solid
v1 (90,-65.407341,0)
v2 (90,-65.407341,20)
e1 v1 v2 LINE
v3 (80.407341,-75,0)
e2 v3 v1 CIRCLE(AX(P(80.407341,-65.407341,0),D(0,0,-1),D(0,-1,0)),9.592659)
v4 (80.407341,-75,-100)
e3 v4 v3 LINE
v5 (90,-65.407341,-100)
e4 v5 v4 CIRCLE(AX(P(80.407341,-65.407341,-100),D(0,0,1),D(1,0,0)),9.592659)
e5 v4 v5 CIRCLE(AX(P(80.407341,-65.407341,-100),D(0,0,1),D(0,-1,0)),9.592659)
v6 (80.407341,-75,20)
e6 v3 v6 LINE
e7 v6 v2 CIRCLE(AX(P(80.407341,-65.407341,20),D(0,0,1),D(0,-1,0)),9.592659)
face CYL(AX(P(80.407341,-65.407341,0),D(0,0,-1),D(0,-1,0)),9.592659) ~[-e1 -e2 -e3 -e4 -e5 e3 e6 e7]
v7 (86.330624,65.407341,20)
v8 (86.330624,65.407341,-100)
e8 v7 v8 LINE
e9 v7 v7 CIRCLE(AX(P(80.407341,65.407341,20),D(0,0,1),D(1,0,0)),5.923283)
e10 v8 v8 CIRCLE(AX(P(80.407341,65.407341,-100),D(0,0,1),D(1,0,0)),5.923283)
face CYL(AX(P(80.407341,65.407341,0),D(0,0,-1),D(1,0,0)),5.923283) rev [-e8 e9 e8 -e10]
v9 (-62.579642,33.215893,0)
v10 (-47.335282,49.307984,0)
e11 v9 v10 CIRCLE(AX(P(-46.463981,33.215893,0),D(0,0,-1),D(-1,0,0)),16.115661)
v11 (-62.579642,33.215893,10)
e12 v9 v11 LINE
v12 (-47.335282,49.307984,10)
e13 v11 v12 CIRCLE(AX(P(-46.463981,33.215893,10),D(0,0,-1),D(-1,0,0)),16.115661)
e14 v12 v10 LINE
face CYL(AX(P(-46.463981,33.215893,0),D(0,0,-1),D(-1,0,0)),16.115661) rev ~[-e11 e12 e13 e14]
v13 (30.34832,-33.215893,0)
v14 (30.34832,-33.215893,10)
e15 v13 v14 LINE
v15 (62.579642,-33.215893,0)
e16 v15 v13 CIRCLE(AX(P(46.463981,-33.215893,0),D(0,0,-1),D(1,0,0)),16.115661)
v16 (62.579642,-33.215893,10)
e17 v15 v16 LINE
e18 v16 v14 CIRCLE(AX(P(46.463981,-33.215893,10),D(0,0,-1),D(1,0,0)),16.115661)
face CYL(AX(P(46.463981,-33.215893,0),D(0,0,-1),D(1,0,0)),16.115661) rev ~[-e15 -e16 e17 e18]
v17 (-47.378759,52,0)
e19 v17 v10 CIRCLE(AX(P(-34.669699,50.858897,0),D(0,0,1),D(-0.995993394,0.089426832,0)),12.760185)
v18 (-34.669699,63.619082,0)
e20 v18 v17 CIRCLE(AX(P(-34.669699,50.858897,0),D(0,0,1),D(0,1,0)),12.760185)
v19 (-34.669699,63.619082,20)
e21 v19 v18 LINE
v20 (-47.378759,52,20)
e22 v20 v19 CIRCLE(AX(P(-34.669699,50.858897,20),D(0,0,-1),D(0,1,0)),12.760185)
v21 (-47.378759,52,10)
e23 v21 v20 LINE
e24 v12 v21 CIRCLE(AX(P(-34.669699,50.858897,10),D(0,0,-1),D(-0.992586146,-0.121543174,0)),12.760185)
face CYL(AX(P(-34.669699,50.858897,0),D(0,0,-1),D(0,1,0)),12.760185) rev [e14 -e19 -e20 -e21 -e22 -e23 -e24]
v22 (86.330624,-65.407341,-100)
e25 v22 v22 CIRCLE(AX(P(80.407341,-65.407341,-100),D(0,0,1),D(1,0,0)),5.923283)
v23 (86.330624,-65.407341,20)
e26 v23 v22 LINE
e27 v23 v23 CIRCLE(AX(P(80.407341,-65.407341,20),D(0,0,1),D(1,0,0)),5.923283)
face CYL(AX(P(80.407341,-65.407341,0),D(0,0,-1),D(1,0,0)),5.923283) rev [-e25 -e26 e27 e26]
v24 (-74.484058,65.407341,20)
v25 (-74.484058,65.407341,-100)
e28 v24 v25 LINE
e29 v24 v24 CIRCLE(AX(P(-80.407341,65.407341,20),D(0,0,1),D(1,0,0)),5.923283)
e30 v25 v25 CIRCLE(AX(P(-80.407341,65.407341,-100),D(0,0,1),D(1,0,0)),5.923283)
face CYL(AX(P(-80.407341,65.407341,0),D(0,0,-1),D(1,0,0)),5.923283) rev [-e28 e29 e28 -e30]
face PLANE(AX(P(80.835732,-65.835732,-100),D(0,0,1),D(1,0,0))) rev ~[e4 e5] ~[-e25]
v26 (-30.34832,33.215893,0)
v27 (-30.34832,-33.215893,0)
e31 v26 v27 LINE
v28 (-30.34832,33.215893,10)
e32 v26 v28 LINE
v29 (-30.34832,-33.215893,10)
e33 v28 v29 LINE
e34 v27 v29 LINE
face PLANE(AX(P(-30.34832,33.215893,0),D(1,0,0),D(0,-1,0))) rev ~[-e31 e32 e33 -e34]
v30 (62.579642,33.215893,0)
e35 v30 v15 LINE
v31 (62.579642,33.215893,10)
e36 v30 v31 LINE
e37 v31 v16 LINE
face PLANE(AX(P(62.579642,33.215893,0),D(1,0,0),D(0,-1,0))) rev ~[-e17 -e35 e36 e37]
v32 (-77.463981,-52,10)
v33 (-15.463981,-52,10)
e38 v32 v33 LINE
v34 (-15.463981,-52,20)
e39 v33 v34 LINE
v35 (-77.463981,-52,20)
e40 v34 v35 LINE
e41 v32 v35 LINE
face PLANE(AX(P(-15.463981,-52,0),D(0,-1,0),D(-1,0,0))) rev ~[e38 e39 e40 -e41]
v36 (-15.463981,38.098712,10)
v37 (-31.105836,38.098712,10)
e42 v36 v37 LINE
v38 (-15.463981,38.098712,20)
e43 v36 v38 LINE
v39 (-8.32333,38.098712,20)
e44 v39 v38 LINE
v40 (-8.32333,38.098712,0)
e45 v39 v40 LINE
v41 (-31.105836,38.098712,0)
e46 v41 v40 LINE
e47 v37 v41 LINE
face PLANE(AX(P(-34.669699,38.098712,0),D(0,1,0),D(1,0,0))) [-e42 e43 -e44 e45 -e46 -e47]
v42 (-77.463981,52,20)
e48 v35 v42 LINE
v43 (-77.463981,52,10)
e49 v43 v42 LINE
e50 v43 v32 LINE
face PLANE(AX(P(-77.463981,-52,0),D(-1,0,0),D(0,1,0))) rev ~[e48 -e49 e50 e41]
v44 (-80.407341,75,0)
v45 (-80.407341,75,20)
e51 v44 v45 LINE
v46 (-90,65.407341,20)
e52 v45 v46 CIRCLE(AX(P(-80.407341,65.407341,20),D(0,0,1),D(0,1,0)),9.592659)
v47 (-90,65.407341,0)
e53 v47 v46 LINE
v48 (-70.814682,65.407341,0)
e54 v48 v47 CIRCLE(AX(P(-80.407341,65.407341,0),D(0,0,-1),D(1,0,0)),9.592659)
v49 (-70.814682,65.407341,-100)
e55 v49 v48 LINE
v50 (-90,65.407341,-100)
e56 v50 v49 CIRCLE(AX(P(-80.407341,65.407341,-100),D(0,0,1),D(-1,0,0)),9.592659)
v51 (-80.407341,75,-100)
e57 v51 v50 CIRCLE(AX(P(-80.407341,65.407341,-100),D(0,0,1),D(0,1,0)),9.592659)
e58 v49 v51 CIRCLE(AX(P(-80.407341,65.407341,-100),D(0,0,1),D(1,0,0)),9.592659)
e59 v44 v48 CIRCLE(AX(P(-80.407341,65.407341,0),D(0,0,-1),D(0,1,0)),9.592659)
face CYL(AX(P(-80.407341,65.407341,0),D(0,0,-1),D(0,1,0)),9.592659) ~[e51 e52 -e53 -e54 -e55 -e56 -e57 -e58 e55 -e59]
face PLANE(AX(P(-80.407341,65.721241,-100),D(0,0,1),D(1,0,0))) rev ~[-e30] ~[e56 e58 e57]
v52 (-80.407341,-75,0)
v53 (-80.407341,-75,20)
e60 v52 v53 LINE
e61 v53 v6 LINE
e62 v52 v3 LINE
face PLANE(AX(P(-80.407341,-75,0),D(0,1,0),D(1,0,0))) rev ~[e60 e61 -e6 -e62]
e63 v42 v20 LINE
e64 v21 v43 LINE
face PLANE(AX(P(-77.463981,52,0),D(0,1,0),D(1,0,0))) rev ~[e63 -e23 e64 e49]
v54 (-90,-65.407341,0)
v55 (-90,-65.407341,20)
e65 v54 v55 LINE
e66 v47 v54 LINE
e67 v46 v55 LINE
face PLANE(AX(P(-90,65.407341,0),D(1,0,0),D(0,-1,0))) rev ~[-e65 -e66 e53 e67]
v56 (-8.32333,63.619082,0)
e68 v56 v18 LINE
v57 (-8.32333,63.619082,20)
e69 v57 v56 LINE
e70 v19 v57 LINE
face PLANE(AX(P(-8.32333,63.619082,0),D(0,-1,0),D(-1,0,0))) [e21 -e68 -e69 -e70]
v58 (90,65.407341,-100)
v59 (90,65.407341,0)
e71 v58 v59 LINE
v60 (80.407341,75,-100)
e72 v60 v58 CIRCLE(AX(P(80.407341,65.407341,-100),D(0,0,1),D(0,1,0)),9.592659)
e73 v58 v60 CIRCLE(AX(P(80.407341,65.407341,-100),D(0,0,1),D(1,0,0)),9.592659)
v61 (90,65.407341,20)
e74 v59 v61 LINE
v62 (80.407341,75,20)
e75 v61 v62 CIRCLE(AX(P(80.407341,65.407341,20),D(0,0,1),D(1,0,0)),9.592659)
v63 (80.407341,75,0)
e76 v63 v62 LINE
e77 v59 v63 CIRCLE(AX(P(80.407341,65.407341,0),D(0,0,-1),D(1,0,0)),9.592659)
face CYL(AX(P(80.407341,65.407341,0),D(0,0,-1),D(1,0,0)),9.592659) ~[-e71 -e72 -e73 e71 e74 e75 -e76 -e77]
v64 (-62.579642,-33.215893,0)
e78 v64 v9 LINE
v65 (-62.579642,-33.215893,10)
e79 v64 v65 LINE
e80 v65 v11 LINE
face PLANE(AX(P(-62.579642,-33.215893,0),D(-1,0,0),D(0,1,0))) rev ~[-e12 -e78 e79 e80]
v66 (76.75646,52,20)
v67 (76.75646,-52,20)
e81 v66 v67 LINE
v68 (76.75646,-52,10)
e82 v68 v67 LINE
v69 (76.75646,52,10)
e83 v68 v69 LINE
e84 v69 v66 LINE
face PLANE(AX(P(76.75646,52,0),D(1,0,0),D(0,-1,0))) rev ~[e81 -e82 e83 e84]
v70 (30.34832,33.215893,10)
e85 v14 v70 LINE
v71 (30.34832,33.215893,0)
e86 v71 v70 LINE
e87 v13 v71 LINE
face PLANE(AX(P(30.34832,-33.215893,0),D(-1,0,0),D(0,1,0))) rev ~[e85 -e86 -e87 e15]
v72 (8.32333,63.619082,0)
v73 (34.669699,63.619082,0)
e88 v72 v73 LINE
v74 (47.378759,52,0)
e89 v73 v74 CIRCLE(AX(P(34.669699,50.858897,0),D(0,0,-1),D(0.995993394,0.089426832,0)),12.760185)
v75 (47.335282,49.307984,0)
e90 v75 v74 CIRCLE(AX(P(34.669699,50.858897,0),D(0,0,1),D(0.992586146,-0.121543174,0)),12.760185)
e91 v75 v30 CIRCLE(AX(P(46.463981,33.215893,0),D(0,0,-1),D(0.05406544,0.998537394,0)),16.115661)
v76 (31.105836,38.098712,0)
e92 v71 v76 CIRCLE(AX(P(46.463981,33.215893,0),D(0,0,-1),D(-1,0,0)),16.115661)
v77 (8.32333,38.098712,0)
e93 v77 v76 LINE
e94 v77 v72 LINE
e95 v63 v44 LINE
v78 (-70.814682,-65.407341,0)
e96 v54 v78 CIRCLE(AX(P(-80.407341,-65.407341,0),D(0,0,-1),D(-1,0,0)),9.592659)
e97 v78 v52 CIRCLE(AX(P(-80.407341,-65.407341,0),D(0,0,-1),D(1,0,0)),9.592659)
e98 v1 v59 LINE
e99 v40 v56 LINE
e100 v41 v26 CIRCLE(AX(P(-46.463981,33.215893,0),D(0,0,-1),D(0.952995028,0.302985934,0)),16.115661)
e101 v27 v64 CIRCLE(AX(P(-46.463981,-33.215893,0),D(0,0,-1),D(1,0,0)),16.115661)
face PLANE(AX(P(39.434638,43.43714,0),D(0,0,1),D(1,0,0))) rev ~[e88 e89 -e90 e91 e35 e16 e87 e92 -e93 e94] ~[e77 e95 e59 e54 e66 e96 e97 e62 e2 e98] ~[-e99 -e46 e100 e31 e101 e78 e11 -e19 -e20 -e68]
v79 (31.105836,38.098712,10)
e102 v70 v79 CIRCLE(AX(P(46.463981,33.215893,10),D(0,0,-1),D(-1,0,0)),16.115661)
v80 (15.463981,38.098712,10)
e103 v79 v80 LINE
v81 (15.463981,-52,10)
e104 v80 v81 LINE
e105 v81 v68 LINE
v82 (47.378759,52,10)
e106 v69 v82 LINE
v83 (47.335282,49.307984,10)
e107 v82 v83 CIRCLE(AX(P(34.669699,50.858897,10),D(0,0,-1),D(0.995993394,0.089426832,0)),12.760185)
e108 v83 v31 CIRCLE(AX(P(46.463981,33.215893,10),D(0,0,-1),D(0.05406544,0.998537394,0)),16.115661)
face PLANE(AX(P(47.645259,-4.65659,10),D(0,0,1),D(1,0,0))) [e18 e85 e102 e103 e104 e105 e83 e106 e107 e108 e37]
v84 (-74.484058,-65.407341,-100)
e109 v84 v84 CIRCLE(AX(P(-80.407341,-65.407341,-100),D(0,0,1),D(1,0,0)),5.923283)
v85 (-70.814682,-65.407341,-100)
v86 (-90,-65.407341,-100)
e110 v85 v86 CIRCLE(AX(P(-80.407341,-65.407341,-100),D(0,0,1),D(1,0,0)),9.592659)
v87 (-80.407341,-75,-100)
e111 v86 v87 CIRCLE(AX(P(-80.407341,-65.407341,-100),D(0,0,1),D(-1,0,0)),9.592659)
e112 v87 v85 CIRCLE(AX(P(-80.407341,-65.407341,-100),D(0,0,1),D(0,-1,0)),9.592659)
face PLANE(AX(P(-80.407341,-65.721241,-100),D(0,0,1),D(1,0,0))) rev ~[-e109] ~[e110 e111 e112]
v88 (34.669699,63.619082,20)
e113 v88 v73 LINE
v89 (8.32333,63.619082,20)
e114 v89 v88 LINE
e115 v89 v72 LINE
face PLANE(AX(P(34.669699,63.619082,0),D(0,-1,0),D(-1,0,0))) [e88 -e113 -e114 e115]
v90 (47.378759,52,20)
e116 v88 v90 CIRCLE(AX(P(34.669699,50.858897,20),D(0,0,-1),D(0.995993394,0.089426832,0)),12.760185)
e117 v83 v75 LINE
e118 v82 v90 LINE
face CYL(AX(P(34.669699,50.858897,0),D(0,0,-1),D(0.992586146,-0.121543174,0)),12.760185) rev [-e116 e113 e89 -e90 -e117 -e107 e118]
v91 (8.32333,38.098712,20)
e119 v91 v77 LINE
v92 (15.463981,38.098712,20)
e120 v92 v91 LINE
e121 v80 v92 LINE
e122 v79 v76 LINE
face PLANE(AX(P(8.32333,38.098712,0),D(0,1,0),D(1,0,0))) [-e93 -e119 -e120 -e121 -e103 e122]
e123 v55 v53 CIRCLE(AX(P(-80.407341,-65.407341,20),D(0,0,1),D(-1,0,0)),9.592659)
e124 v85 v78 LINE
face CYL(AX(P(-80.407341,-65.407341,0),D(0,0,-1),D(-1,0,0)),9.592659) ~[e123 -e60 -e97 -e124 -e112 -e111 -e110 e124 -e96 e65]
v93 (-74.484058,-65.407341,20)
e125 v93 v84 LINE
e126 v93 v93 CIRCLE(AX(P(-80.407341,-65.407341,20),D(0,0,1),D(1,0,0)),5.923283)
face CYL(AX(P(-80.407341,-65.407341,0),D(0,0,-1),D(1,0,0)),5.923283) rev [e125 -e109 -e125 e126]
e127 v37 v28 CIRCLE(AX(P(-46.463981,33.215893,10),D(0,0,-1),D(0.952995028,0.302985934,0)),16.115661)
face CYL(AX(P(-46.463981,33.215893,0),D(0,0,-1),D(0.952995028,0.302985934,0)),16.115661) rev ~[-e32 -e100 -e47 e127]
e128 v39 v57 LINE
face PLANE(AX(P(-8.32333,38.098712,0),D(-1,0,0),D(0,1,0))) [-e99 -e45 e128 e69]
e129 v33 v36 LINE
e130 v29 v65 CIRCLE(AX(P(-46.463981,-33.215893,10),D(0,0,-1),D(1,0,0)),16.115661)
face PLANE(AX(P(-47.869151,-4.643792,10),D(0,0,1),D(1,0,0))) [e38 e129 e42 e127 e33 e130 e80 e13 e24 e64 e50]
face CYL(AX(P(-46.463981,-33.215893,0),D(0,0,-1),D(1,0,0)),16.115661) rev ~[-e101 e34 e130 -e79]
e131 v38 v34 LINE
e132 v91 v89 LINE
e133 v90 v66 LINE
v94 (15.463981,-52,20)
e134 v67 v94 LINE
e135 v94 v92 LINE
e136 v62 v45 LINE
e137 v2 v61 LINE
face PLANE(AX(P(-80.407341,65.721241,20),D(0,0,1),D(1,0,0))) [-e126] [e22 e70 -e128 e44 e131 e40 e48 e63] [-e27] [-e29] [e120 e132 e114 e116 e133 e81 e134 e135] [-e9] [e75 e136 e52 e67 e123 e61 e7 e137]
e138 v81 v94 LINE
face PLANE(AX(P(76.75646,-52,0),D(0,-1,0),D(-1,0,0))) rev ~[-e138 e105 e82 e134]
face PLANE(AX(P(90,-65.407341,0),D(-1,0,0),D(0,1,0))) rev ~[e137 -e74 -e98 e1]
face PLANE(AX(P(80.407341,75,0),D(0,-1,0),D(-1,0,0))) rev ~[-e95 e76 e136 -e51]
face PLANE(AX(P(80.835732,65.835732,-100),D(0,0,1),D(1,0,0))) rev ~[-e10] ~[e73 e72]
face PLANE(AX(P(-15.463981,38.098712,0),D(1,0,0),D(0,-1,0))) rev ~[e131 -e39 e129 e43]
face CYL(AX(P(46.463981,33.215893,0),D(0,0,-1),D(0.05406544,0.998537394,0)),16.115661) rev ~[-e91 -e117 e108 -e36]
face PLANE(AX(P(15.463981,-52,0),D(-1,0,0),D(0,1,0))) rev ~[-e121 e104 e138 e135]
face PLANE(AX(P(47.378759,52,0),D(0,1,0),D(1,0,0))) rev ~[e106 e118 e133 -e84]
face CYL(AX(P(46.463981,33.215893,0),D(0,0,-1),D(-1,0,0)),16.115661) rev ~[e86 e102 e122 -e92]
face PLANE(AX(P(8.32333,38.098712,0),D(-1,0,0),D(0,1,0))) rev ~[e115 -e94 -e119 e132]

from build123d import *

# Parameters (mm, degrees)
EXTRUDE_1_DEPTH          = 20
EXTRUDE_2_DEPTH          = 10
EXTRUDE_3_DEPTH          = 20
CUT_EXTRUDE_4_DEPTH      = 5
EXTRUDE_START            = -100
SKETCH_1_11_R            = 9.592658998
SKETCH_1_11_R_2          = 5.923282924
EXTRUDE_5_DEPTH          = 100
EXTRUDE_5_2_DEPTH        = 100
EXTRUDE_5_3_DEPTH        = 100
EXTRUDE_5_4_DEPTH        = 100
CUT_EXTRUDE_5_DEPTH      = 155.029218007
CUT_EXTRUDE_5_DEPTH_BACK = 12
SKETCH_1_15_R            = 9.592658998
SKETCH_1_15_R_2          = 5.923282924
EXTRUDE_7_DEPTH          = 20


with BuildPart() as part:
    # 草图1 → 凸台-拉伸1 (new body)
    with BuildSketch(Plane.XY):
        with BuildLine():
            Line((80.407341002, 75), (-80.407341002, 75))
            ThreePointArc((-80.407341002, 75), (-73.624306776, 72.190375229), (-70.814682005, 65.407341002))
            ThreePointArc((-70.814682005, 65.407341002), (-80.407341002, 55.814682005), (-90, 65.407341002))
            Line((-90, 65.407341002), (-90, -65.407341002))
            ThreePointArc((-90, -65.407341002), (-80.407341002, -55.814682005), (-70.814682005, -65.407341002))
            ThreePointArc((-70.814682005, -65.407341002), (-73.624306776, -72.190375229), (-80.407341002, -75))
            Line((-80.407341002, -75), (80.407341002, -75))
            ThreePointArc((80.407341002, -75), (73.624306776, -58.624306776), (90, -65.407341002))
            Line((90, -65.407341002), (90, 65.407341002))
            ThreePointArc((90, 65.407341002), (73.624306776, 58.624306776), (80.407341002, 75))
        make_face()
        with BuildLine():
            Line((-77.463981191, -52), (-77.463981191, 52))
            Line((-77.463981191, 52), (-47.378758628, 52))
            ThreePointArc((-47.378758628, 52), (-43.279624238, 60.276513692), (-34.66969867, 63.619082069))
            Line((-34.66969867, 63.619082069), (-8.32333029, 63.619082069))
            ThreePointArc((-8.32333029, 63.619082069), (0, 71.942412359), (8.32333029, 63.619082069))
            Line((8.32333029, 63.619082069), (34.66969867, 63.619082069))
            ThreePointArc((34.66969867, 63.619082069), (43.279624238, 60.276513692), (47.378758628, 52))
            Line((47.378758628, 52), (76.756459617, 52))
            Line((76.756459617, 52), (76.756459617, -52))
            Line((76.756459617, -52), (15.463981191, -52))
            Line((15.463981191, -52), (15.463981191, 38.098712095))
            Line((15.463981191, 38.098712095), (8.32333029, 38.098712095))
            ThreePointArc((8.32333029, 38.098712095), (0, 29.775381805), (-8.32333029, 38.098712095))
            Line((-8.32333029, 38.098712095), (-15.463981191, 38.098712095))
            Line((-15.463981191, 38.098712095), (-15.463981191, -52))
            Line((-15.463981191, -52), (-77.463981191, -52))
        make_face(mode=Mode.SUBTRACT)
    extrude(amount=EXTRUDE_1_DEPTH)

    # 草图1<3> → 凸台-拉伸2 (add)
    with BuildSketch(Plane.XY):
        with BuildLine():
            Line((-47.378758628, 52), (-77.463981191, 52))
            Line((-77.463981191, 52), (-77.463981191, -52))
            Line((-77.463981191, -52), (-15.463981191, -52))
            Line((-15.463981191, -52), (-15.463981191, 38.098712095))
            Line((-15.463981191, 38.098712095), (-31.105836296, 38.098712095))
            ThreePointArc((-31.105836296, 38.098712095), (-30.538825138, 35.686508189), (-30.348320097, 33.215893454))
            Line((-30.348320097, 33.215893454), (-30.348320097, -33.215893454))
            ThreePointArc((-30.348320097, -33.215893454), (-46.463981191, -49.331554547), (-62.579642285, -33.215893454))
            Line((-62.579642285, -33.215893454), (-62.579642285, 33.215893454))
            ThreePointArc((-62.579642285, 33.215893454), (-58.163470775, 44.299055275), (-47.335281505, 49.307983692))
            ThreePointArc((-47.335281505, 49.307983692), (-47.428219829, 50.652841942), (-47.378758628, 52))
        make_face()
        with BuildLine():
            Line((31.105836296, 38.098712095), (15.463981191, 38.098712095))
            Line((15.463981191, 38.098712095), (15.463981191, -52))
            Line((15.463981191, -52), (76.756459617, -52))
            Line((76.756459617, -52), (76.756459617, 52))
            Line((76.756459617, 52), (47.378758628, 52))
            ThreePointArc((47.378758628, 52), (47.428219829, 50.652841942), (47.335281505, 49.307983692))
            ThreePointArc((47.335281505, 49.307983692), (58.163470775, 44.299055275), (62.579642285, 33.215893454))
            Line((62.579642285, 33.215893454), (62.579642285, -33.215893454))
            ThreePointArc((62.579642285, -33.215893454), (46.463981191, -49.331554547), (30.348320097, -33.215893454))
            Line((30.348320097, -33.215893454), (30.348320097, 33.215893454))
            ThreePointArc((30.348320097, 33.215893454), (30.538825138, 35.686508189), (31.105836296, 38.098712095))
        make_face()
    extrude(amount=EXTRUDE_2_DEPTH)

    # 草图1<4> → 凸台-拉伸3 (add)
    with BuildSketch(Plane.XY):
        with BuildLine():
            ThreePointArc((-34.66969867, 63.619082069), (-47.429883657, 50.858897082), (-34.66969867, 38.098712095))
            Line((-34.66969867, 38.098712095), (-8.32333029, 38.098712095))
            Line((-8.32333029, 38.098712095), (-8.32333029, 63.619082069))
            Line((-8.32333029, 63.619082069), (-34.66969867, 63.619082069))
        make_face()
        with BuildLine():
            Line((34.66969867, 63.619082069), (8.32333029, 63.619082069))
            Line((8.32333029, 63.619082069), (8.32333029, 38.098712095))
            Line((8.32333029, 38.098712095), (34.66969867, 38.098712095))
            ThreePointArc((34.66969867, 38.098712095), (47.429883657, 50.858897082), (34.66969867, 63.619082069))
        make_face()
    extrude(amount=EXTRUDE_3_DEPTH)

    # 草图1<8> → 切除-拉伸4 (cut, symmetric)
    with BuildSketch(Plane.XY):
        with BuildLine():
            ThreePointArc((-34.66969867, 63.619082069), (-47.429883657, 50.858897082), (-34.66969867, 38.098712095))
            Line((-34.66969867, 38.098712095), (-8.32333029, 38.098712095))
            Line((-8.32333029, 38.098712095), (-8.32333029, 63.619082069))
            Line((-8.32333029, 63.619082069), (-34.66969867, 63.619082069))
        make_face()
        with BuildLine():
            Line((34.66969867, 63.619082069), (8.32333029, 63.619082069))
            Line((8.32333029, 63.619082069), (8.32333029, 38.098712095))
            Line((8.32333029, 38.098712095), (34.66969867, 38.098712095))
            ThreePointArc((34.66969867, 38.098712095), (47.429883657, 50.858897082), (34.66969867, 63.619082069))
        make_face()
    extrude(amount=CUT_EXTRUDE_4_DEPTH, both=True, mode=Mode.SUBTRACT)

    # 草图1<14> → 切除-拉伸5 (cut, two sides: drawn at the far end of the back side and taken through both)
    with BuildSketch(Plane.XY.offset(-CUT_EXTRUDE_5_DEPTH_BACK)):
        with BuildLine():
            ThreePointArc((-34.66969867, 63.619082069), (-47.429883657, 50.858897082), (-34.66969867, 38.098712095))
            Line((-34.66969867, 38.098712095), (-8.32333029, 38.098712095))
            Line((-8.32333029, 38.098712095), (-8.32333029, 63.619082069))
            Line((-8.32333029, 63.619082069), (-34.66969867, 63.619082069))
        make_face()
        with BuildLine():
            Line((34.66969867, 63.619082069), (8.32333029, 63.619082069))
            Line((8.32333029, 63.619082069), (8.32333029, 38.098712095))
            Line((8.32333029, 38.098712095), (34.66969867, 38.098712095))
            ThreePointArc((34.66969867, 38.098712095), (47.429883657, 50.858897082), (34.66969867, 63.619082069))
        make_face()
    extrude(amount=CUT_EXTRUDE_5_DEPTH + CUT_EXTRUDE_5_DEPTH_BACK, mode=Mode.SUBTRACT)



with BuildPart() as body_2:
    # 草图1<11> → 凸台-拉伸5 (new body)
    with BuildSketch(Plane.XY.offset(EXTRUDE_START)):
        with Locations((-80.407341002, 65.407341002)):
            Circle(SKETCH_1_11_R)
        with Locations((-80.407341002, 65.407341002)):
            Circle(SKETCH_1_11_R_2, mode=Mode.SUBTRACT)
    extrude(amount=EXTRUDE_5_DEPTH)


with BuildPart() as body_3:
    # 草图1<11> → Extrude 5 2 (new body)
    with BuildSketch(Plane.XY.offset(EXTRUDE_START)):
        with Locations((80.407341002, 65.407341002)):
            Circle(SKETCH_1_11_R)
        with Locations((80.407341002, 65.407341002)):
            Circle(SKETCH_1_11_R_2, mode=Mode.SUBTRACT)
    extrude(amount=EXTRUDE_5_2_DEPTH)


with BuildPart() as body_4:
    # 草图1<11> → Extrude 5 3 (new body)
    with BuildSketch(Plane.XY.offset(EXTRUDE_START)):
        with Locations((-80.407341002, -65.407341002)):
            Circle(SKETCH_1_11_R)
        with Locations((-80.407341002, -65.407341002)):
            Circle(SKETCH_1_11_R_2, mode=Mode.SUBTRACT)
    extrude(amount=EXTRUDE_5_3_DEPTH)


with BuildPart() as body_5:
    # 草图1<11> → Extrude 5 4 (new body)
    with BuildSketch(Plane.XY.offset(EXTRUDE_START)):
        with Locations((80.407341002, -65.407341002)):
            Circle(SKETCH_1_11_R)
        with Locations((80.407341002, -65.407341002)):
            Circle(SKETCH_1_11_R_2, mode=Mode.SUBTRACT)
    extrude(amount=EXTRUDE_5_4_DEPTH)


with BuildPart() as part_1:
    add(part.part)

    add(body_2.part)  # 凸台-拉伸7 merges body 2

    add(body_3.part)  # 凸台-拉伸7 merges body 3

    add(body_4.part)  # 凸台-拉伸7 merges body 4

    add(body_5.part)  # 凸台-拉伸7 merges body 5
    # 草图1<15> → 凸台-拉伸7 (add)
    # profile 1 of 5: a face of its own
    with BuildSketch(Plane.XY):
        with Locations((-80.407341002, 65.407341002)):
            Circle(SKETCH_1_15_R)
        with Locations((-80.407341002, 65.407341002)):
            Circle(SKETCH_1_15_R_2, mode=Mode.SUBTRACT)
    # profile 2 of 5: a face of its own
    with BuildSketch(Plane.XY):
        with Locations((80.407341002, 65.407341002)):
            Circle(SKETCH_1_15_R)
        with Locations((80.407341002, 65.407341002)):
            Circle(SKETCH_1_15_R_2, mode=Mode.SUBTRACT)
    # profile 3 of 5: a face of its own
    with BuildSketch(Plane.XY):
        with Locations((-80.407341002, -65.407341002)):
            Circle(SKETCH_1_15_R)
        with Locations((-80.407341002, -65.407341002)):
            Circle(SKETCH_1_15_R_2, mode=Mode.SUBTRACT)
    # profile 4 of 5: a face of its own
    with BuildSketch(Plane.XY):
        with Locations((80.407341002, -65.407341002)):
            Circle(SKETCH_1_15_R)
        with Locations((80.407341002, -65.407341002)):
            Circle(SKETCH_1_15_R_2, mode=Mode.SUBTRACT)
    # profile 5 of 5: a face of its own
    with BuildSketch(Plane.XY):
        with BuildLine():
            ThreePointArc((8.32333029, 63.619082069), (0, 71.942412359), (-8.32333029, 63.619082069))
            Line((-8.32333029, 63.619082069), (-8.32333029, 38.098712095))
            ThreePointArc((-8.32333029, 38.098712095), (0, 29.775381805), (8.32333029, 38.098712095))
            Line((8.32333029, 38.098712095), (8.32333029, 63.619082069))
        make_face()
    extrude(amount=EXTRUDE_7_DEPTH)


solid = part_1.part
